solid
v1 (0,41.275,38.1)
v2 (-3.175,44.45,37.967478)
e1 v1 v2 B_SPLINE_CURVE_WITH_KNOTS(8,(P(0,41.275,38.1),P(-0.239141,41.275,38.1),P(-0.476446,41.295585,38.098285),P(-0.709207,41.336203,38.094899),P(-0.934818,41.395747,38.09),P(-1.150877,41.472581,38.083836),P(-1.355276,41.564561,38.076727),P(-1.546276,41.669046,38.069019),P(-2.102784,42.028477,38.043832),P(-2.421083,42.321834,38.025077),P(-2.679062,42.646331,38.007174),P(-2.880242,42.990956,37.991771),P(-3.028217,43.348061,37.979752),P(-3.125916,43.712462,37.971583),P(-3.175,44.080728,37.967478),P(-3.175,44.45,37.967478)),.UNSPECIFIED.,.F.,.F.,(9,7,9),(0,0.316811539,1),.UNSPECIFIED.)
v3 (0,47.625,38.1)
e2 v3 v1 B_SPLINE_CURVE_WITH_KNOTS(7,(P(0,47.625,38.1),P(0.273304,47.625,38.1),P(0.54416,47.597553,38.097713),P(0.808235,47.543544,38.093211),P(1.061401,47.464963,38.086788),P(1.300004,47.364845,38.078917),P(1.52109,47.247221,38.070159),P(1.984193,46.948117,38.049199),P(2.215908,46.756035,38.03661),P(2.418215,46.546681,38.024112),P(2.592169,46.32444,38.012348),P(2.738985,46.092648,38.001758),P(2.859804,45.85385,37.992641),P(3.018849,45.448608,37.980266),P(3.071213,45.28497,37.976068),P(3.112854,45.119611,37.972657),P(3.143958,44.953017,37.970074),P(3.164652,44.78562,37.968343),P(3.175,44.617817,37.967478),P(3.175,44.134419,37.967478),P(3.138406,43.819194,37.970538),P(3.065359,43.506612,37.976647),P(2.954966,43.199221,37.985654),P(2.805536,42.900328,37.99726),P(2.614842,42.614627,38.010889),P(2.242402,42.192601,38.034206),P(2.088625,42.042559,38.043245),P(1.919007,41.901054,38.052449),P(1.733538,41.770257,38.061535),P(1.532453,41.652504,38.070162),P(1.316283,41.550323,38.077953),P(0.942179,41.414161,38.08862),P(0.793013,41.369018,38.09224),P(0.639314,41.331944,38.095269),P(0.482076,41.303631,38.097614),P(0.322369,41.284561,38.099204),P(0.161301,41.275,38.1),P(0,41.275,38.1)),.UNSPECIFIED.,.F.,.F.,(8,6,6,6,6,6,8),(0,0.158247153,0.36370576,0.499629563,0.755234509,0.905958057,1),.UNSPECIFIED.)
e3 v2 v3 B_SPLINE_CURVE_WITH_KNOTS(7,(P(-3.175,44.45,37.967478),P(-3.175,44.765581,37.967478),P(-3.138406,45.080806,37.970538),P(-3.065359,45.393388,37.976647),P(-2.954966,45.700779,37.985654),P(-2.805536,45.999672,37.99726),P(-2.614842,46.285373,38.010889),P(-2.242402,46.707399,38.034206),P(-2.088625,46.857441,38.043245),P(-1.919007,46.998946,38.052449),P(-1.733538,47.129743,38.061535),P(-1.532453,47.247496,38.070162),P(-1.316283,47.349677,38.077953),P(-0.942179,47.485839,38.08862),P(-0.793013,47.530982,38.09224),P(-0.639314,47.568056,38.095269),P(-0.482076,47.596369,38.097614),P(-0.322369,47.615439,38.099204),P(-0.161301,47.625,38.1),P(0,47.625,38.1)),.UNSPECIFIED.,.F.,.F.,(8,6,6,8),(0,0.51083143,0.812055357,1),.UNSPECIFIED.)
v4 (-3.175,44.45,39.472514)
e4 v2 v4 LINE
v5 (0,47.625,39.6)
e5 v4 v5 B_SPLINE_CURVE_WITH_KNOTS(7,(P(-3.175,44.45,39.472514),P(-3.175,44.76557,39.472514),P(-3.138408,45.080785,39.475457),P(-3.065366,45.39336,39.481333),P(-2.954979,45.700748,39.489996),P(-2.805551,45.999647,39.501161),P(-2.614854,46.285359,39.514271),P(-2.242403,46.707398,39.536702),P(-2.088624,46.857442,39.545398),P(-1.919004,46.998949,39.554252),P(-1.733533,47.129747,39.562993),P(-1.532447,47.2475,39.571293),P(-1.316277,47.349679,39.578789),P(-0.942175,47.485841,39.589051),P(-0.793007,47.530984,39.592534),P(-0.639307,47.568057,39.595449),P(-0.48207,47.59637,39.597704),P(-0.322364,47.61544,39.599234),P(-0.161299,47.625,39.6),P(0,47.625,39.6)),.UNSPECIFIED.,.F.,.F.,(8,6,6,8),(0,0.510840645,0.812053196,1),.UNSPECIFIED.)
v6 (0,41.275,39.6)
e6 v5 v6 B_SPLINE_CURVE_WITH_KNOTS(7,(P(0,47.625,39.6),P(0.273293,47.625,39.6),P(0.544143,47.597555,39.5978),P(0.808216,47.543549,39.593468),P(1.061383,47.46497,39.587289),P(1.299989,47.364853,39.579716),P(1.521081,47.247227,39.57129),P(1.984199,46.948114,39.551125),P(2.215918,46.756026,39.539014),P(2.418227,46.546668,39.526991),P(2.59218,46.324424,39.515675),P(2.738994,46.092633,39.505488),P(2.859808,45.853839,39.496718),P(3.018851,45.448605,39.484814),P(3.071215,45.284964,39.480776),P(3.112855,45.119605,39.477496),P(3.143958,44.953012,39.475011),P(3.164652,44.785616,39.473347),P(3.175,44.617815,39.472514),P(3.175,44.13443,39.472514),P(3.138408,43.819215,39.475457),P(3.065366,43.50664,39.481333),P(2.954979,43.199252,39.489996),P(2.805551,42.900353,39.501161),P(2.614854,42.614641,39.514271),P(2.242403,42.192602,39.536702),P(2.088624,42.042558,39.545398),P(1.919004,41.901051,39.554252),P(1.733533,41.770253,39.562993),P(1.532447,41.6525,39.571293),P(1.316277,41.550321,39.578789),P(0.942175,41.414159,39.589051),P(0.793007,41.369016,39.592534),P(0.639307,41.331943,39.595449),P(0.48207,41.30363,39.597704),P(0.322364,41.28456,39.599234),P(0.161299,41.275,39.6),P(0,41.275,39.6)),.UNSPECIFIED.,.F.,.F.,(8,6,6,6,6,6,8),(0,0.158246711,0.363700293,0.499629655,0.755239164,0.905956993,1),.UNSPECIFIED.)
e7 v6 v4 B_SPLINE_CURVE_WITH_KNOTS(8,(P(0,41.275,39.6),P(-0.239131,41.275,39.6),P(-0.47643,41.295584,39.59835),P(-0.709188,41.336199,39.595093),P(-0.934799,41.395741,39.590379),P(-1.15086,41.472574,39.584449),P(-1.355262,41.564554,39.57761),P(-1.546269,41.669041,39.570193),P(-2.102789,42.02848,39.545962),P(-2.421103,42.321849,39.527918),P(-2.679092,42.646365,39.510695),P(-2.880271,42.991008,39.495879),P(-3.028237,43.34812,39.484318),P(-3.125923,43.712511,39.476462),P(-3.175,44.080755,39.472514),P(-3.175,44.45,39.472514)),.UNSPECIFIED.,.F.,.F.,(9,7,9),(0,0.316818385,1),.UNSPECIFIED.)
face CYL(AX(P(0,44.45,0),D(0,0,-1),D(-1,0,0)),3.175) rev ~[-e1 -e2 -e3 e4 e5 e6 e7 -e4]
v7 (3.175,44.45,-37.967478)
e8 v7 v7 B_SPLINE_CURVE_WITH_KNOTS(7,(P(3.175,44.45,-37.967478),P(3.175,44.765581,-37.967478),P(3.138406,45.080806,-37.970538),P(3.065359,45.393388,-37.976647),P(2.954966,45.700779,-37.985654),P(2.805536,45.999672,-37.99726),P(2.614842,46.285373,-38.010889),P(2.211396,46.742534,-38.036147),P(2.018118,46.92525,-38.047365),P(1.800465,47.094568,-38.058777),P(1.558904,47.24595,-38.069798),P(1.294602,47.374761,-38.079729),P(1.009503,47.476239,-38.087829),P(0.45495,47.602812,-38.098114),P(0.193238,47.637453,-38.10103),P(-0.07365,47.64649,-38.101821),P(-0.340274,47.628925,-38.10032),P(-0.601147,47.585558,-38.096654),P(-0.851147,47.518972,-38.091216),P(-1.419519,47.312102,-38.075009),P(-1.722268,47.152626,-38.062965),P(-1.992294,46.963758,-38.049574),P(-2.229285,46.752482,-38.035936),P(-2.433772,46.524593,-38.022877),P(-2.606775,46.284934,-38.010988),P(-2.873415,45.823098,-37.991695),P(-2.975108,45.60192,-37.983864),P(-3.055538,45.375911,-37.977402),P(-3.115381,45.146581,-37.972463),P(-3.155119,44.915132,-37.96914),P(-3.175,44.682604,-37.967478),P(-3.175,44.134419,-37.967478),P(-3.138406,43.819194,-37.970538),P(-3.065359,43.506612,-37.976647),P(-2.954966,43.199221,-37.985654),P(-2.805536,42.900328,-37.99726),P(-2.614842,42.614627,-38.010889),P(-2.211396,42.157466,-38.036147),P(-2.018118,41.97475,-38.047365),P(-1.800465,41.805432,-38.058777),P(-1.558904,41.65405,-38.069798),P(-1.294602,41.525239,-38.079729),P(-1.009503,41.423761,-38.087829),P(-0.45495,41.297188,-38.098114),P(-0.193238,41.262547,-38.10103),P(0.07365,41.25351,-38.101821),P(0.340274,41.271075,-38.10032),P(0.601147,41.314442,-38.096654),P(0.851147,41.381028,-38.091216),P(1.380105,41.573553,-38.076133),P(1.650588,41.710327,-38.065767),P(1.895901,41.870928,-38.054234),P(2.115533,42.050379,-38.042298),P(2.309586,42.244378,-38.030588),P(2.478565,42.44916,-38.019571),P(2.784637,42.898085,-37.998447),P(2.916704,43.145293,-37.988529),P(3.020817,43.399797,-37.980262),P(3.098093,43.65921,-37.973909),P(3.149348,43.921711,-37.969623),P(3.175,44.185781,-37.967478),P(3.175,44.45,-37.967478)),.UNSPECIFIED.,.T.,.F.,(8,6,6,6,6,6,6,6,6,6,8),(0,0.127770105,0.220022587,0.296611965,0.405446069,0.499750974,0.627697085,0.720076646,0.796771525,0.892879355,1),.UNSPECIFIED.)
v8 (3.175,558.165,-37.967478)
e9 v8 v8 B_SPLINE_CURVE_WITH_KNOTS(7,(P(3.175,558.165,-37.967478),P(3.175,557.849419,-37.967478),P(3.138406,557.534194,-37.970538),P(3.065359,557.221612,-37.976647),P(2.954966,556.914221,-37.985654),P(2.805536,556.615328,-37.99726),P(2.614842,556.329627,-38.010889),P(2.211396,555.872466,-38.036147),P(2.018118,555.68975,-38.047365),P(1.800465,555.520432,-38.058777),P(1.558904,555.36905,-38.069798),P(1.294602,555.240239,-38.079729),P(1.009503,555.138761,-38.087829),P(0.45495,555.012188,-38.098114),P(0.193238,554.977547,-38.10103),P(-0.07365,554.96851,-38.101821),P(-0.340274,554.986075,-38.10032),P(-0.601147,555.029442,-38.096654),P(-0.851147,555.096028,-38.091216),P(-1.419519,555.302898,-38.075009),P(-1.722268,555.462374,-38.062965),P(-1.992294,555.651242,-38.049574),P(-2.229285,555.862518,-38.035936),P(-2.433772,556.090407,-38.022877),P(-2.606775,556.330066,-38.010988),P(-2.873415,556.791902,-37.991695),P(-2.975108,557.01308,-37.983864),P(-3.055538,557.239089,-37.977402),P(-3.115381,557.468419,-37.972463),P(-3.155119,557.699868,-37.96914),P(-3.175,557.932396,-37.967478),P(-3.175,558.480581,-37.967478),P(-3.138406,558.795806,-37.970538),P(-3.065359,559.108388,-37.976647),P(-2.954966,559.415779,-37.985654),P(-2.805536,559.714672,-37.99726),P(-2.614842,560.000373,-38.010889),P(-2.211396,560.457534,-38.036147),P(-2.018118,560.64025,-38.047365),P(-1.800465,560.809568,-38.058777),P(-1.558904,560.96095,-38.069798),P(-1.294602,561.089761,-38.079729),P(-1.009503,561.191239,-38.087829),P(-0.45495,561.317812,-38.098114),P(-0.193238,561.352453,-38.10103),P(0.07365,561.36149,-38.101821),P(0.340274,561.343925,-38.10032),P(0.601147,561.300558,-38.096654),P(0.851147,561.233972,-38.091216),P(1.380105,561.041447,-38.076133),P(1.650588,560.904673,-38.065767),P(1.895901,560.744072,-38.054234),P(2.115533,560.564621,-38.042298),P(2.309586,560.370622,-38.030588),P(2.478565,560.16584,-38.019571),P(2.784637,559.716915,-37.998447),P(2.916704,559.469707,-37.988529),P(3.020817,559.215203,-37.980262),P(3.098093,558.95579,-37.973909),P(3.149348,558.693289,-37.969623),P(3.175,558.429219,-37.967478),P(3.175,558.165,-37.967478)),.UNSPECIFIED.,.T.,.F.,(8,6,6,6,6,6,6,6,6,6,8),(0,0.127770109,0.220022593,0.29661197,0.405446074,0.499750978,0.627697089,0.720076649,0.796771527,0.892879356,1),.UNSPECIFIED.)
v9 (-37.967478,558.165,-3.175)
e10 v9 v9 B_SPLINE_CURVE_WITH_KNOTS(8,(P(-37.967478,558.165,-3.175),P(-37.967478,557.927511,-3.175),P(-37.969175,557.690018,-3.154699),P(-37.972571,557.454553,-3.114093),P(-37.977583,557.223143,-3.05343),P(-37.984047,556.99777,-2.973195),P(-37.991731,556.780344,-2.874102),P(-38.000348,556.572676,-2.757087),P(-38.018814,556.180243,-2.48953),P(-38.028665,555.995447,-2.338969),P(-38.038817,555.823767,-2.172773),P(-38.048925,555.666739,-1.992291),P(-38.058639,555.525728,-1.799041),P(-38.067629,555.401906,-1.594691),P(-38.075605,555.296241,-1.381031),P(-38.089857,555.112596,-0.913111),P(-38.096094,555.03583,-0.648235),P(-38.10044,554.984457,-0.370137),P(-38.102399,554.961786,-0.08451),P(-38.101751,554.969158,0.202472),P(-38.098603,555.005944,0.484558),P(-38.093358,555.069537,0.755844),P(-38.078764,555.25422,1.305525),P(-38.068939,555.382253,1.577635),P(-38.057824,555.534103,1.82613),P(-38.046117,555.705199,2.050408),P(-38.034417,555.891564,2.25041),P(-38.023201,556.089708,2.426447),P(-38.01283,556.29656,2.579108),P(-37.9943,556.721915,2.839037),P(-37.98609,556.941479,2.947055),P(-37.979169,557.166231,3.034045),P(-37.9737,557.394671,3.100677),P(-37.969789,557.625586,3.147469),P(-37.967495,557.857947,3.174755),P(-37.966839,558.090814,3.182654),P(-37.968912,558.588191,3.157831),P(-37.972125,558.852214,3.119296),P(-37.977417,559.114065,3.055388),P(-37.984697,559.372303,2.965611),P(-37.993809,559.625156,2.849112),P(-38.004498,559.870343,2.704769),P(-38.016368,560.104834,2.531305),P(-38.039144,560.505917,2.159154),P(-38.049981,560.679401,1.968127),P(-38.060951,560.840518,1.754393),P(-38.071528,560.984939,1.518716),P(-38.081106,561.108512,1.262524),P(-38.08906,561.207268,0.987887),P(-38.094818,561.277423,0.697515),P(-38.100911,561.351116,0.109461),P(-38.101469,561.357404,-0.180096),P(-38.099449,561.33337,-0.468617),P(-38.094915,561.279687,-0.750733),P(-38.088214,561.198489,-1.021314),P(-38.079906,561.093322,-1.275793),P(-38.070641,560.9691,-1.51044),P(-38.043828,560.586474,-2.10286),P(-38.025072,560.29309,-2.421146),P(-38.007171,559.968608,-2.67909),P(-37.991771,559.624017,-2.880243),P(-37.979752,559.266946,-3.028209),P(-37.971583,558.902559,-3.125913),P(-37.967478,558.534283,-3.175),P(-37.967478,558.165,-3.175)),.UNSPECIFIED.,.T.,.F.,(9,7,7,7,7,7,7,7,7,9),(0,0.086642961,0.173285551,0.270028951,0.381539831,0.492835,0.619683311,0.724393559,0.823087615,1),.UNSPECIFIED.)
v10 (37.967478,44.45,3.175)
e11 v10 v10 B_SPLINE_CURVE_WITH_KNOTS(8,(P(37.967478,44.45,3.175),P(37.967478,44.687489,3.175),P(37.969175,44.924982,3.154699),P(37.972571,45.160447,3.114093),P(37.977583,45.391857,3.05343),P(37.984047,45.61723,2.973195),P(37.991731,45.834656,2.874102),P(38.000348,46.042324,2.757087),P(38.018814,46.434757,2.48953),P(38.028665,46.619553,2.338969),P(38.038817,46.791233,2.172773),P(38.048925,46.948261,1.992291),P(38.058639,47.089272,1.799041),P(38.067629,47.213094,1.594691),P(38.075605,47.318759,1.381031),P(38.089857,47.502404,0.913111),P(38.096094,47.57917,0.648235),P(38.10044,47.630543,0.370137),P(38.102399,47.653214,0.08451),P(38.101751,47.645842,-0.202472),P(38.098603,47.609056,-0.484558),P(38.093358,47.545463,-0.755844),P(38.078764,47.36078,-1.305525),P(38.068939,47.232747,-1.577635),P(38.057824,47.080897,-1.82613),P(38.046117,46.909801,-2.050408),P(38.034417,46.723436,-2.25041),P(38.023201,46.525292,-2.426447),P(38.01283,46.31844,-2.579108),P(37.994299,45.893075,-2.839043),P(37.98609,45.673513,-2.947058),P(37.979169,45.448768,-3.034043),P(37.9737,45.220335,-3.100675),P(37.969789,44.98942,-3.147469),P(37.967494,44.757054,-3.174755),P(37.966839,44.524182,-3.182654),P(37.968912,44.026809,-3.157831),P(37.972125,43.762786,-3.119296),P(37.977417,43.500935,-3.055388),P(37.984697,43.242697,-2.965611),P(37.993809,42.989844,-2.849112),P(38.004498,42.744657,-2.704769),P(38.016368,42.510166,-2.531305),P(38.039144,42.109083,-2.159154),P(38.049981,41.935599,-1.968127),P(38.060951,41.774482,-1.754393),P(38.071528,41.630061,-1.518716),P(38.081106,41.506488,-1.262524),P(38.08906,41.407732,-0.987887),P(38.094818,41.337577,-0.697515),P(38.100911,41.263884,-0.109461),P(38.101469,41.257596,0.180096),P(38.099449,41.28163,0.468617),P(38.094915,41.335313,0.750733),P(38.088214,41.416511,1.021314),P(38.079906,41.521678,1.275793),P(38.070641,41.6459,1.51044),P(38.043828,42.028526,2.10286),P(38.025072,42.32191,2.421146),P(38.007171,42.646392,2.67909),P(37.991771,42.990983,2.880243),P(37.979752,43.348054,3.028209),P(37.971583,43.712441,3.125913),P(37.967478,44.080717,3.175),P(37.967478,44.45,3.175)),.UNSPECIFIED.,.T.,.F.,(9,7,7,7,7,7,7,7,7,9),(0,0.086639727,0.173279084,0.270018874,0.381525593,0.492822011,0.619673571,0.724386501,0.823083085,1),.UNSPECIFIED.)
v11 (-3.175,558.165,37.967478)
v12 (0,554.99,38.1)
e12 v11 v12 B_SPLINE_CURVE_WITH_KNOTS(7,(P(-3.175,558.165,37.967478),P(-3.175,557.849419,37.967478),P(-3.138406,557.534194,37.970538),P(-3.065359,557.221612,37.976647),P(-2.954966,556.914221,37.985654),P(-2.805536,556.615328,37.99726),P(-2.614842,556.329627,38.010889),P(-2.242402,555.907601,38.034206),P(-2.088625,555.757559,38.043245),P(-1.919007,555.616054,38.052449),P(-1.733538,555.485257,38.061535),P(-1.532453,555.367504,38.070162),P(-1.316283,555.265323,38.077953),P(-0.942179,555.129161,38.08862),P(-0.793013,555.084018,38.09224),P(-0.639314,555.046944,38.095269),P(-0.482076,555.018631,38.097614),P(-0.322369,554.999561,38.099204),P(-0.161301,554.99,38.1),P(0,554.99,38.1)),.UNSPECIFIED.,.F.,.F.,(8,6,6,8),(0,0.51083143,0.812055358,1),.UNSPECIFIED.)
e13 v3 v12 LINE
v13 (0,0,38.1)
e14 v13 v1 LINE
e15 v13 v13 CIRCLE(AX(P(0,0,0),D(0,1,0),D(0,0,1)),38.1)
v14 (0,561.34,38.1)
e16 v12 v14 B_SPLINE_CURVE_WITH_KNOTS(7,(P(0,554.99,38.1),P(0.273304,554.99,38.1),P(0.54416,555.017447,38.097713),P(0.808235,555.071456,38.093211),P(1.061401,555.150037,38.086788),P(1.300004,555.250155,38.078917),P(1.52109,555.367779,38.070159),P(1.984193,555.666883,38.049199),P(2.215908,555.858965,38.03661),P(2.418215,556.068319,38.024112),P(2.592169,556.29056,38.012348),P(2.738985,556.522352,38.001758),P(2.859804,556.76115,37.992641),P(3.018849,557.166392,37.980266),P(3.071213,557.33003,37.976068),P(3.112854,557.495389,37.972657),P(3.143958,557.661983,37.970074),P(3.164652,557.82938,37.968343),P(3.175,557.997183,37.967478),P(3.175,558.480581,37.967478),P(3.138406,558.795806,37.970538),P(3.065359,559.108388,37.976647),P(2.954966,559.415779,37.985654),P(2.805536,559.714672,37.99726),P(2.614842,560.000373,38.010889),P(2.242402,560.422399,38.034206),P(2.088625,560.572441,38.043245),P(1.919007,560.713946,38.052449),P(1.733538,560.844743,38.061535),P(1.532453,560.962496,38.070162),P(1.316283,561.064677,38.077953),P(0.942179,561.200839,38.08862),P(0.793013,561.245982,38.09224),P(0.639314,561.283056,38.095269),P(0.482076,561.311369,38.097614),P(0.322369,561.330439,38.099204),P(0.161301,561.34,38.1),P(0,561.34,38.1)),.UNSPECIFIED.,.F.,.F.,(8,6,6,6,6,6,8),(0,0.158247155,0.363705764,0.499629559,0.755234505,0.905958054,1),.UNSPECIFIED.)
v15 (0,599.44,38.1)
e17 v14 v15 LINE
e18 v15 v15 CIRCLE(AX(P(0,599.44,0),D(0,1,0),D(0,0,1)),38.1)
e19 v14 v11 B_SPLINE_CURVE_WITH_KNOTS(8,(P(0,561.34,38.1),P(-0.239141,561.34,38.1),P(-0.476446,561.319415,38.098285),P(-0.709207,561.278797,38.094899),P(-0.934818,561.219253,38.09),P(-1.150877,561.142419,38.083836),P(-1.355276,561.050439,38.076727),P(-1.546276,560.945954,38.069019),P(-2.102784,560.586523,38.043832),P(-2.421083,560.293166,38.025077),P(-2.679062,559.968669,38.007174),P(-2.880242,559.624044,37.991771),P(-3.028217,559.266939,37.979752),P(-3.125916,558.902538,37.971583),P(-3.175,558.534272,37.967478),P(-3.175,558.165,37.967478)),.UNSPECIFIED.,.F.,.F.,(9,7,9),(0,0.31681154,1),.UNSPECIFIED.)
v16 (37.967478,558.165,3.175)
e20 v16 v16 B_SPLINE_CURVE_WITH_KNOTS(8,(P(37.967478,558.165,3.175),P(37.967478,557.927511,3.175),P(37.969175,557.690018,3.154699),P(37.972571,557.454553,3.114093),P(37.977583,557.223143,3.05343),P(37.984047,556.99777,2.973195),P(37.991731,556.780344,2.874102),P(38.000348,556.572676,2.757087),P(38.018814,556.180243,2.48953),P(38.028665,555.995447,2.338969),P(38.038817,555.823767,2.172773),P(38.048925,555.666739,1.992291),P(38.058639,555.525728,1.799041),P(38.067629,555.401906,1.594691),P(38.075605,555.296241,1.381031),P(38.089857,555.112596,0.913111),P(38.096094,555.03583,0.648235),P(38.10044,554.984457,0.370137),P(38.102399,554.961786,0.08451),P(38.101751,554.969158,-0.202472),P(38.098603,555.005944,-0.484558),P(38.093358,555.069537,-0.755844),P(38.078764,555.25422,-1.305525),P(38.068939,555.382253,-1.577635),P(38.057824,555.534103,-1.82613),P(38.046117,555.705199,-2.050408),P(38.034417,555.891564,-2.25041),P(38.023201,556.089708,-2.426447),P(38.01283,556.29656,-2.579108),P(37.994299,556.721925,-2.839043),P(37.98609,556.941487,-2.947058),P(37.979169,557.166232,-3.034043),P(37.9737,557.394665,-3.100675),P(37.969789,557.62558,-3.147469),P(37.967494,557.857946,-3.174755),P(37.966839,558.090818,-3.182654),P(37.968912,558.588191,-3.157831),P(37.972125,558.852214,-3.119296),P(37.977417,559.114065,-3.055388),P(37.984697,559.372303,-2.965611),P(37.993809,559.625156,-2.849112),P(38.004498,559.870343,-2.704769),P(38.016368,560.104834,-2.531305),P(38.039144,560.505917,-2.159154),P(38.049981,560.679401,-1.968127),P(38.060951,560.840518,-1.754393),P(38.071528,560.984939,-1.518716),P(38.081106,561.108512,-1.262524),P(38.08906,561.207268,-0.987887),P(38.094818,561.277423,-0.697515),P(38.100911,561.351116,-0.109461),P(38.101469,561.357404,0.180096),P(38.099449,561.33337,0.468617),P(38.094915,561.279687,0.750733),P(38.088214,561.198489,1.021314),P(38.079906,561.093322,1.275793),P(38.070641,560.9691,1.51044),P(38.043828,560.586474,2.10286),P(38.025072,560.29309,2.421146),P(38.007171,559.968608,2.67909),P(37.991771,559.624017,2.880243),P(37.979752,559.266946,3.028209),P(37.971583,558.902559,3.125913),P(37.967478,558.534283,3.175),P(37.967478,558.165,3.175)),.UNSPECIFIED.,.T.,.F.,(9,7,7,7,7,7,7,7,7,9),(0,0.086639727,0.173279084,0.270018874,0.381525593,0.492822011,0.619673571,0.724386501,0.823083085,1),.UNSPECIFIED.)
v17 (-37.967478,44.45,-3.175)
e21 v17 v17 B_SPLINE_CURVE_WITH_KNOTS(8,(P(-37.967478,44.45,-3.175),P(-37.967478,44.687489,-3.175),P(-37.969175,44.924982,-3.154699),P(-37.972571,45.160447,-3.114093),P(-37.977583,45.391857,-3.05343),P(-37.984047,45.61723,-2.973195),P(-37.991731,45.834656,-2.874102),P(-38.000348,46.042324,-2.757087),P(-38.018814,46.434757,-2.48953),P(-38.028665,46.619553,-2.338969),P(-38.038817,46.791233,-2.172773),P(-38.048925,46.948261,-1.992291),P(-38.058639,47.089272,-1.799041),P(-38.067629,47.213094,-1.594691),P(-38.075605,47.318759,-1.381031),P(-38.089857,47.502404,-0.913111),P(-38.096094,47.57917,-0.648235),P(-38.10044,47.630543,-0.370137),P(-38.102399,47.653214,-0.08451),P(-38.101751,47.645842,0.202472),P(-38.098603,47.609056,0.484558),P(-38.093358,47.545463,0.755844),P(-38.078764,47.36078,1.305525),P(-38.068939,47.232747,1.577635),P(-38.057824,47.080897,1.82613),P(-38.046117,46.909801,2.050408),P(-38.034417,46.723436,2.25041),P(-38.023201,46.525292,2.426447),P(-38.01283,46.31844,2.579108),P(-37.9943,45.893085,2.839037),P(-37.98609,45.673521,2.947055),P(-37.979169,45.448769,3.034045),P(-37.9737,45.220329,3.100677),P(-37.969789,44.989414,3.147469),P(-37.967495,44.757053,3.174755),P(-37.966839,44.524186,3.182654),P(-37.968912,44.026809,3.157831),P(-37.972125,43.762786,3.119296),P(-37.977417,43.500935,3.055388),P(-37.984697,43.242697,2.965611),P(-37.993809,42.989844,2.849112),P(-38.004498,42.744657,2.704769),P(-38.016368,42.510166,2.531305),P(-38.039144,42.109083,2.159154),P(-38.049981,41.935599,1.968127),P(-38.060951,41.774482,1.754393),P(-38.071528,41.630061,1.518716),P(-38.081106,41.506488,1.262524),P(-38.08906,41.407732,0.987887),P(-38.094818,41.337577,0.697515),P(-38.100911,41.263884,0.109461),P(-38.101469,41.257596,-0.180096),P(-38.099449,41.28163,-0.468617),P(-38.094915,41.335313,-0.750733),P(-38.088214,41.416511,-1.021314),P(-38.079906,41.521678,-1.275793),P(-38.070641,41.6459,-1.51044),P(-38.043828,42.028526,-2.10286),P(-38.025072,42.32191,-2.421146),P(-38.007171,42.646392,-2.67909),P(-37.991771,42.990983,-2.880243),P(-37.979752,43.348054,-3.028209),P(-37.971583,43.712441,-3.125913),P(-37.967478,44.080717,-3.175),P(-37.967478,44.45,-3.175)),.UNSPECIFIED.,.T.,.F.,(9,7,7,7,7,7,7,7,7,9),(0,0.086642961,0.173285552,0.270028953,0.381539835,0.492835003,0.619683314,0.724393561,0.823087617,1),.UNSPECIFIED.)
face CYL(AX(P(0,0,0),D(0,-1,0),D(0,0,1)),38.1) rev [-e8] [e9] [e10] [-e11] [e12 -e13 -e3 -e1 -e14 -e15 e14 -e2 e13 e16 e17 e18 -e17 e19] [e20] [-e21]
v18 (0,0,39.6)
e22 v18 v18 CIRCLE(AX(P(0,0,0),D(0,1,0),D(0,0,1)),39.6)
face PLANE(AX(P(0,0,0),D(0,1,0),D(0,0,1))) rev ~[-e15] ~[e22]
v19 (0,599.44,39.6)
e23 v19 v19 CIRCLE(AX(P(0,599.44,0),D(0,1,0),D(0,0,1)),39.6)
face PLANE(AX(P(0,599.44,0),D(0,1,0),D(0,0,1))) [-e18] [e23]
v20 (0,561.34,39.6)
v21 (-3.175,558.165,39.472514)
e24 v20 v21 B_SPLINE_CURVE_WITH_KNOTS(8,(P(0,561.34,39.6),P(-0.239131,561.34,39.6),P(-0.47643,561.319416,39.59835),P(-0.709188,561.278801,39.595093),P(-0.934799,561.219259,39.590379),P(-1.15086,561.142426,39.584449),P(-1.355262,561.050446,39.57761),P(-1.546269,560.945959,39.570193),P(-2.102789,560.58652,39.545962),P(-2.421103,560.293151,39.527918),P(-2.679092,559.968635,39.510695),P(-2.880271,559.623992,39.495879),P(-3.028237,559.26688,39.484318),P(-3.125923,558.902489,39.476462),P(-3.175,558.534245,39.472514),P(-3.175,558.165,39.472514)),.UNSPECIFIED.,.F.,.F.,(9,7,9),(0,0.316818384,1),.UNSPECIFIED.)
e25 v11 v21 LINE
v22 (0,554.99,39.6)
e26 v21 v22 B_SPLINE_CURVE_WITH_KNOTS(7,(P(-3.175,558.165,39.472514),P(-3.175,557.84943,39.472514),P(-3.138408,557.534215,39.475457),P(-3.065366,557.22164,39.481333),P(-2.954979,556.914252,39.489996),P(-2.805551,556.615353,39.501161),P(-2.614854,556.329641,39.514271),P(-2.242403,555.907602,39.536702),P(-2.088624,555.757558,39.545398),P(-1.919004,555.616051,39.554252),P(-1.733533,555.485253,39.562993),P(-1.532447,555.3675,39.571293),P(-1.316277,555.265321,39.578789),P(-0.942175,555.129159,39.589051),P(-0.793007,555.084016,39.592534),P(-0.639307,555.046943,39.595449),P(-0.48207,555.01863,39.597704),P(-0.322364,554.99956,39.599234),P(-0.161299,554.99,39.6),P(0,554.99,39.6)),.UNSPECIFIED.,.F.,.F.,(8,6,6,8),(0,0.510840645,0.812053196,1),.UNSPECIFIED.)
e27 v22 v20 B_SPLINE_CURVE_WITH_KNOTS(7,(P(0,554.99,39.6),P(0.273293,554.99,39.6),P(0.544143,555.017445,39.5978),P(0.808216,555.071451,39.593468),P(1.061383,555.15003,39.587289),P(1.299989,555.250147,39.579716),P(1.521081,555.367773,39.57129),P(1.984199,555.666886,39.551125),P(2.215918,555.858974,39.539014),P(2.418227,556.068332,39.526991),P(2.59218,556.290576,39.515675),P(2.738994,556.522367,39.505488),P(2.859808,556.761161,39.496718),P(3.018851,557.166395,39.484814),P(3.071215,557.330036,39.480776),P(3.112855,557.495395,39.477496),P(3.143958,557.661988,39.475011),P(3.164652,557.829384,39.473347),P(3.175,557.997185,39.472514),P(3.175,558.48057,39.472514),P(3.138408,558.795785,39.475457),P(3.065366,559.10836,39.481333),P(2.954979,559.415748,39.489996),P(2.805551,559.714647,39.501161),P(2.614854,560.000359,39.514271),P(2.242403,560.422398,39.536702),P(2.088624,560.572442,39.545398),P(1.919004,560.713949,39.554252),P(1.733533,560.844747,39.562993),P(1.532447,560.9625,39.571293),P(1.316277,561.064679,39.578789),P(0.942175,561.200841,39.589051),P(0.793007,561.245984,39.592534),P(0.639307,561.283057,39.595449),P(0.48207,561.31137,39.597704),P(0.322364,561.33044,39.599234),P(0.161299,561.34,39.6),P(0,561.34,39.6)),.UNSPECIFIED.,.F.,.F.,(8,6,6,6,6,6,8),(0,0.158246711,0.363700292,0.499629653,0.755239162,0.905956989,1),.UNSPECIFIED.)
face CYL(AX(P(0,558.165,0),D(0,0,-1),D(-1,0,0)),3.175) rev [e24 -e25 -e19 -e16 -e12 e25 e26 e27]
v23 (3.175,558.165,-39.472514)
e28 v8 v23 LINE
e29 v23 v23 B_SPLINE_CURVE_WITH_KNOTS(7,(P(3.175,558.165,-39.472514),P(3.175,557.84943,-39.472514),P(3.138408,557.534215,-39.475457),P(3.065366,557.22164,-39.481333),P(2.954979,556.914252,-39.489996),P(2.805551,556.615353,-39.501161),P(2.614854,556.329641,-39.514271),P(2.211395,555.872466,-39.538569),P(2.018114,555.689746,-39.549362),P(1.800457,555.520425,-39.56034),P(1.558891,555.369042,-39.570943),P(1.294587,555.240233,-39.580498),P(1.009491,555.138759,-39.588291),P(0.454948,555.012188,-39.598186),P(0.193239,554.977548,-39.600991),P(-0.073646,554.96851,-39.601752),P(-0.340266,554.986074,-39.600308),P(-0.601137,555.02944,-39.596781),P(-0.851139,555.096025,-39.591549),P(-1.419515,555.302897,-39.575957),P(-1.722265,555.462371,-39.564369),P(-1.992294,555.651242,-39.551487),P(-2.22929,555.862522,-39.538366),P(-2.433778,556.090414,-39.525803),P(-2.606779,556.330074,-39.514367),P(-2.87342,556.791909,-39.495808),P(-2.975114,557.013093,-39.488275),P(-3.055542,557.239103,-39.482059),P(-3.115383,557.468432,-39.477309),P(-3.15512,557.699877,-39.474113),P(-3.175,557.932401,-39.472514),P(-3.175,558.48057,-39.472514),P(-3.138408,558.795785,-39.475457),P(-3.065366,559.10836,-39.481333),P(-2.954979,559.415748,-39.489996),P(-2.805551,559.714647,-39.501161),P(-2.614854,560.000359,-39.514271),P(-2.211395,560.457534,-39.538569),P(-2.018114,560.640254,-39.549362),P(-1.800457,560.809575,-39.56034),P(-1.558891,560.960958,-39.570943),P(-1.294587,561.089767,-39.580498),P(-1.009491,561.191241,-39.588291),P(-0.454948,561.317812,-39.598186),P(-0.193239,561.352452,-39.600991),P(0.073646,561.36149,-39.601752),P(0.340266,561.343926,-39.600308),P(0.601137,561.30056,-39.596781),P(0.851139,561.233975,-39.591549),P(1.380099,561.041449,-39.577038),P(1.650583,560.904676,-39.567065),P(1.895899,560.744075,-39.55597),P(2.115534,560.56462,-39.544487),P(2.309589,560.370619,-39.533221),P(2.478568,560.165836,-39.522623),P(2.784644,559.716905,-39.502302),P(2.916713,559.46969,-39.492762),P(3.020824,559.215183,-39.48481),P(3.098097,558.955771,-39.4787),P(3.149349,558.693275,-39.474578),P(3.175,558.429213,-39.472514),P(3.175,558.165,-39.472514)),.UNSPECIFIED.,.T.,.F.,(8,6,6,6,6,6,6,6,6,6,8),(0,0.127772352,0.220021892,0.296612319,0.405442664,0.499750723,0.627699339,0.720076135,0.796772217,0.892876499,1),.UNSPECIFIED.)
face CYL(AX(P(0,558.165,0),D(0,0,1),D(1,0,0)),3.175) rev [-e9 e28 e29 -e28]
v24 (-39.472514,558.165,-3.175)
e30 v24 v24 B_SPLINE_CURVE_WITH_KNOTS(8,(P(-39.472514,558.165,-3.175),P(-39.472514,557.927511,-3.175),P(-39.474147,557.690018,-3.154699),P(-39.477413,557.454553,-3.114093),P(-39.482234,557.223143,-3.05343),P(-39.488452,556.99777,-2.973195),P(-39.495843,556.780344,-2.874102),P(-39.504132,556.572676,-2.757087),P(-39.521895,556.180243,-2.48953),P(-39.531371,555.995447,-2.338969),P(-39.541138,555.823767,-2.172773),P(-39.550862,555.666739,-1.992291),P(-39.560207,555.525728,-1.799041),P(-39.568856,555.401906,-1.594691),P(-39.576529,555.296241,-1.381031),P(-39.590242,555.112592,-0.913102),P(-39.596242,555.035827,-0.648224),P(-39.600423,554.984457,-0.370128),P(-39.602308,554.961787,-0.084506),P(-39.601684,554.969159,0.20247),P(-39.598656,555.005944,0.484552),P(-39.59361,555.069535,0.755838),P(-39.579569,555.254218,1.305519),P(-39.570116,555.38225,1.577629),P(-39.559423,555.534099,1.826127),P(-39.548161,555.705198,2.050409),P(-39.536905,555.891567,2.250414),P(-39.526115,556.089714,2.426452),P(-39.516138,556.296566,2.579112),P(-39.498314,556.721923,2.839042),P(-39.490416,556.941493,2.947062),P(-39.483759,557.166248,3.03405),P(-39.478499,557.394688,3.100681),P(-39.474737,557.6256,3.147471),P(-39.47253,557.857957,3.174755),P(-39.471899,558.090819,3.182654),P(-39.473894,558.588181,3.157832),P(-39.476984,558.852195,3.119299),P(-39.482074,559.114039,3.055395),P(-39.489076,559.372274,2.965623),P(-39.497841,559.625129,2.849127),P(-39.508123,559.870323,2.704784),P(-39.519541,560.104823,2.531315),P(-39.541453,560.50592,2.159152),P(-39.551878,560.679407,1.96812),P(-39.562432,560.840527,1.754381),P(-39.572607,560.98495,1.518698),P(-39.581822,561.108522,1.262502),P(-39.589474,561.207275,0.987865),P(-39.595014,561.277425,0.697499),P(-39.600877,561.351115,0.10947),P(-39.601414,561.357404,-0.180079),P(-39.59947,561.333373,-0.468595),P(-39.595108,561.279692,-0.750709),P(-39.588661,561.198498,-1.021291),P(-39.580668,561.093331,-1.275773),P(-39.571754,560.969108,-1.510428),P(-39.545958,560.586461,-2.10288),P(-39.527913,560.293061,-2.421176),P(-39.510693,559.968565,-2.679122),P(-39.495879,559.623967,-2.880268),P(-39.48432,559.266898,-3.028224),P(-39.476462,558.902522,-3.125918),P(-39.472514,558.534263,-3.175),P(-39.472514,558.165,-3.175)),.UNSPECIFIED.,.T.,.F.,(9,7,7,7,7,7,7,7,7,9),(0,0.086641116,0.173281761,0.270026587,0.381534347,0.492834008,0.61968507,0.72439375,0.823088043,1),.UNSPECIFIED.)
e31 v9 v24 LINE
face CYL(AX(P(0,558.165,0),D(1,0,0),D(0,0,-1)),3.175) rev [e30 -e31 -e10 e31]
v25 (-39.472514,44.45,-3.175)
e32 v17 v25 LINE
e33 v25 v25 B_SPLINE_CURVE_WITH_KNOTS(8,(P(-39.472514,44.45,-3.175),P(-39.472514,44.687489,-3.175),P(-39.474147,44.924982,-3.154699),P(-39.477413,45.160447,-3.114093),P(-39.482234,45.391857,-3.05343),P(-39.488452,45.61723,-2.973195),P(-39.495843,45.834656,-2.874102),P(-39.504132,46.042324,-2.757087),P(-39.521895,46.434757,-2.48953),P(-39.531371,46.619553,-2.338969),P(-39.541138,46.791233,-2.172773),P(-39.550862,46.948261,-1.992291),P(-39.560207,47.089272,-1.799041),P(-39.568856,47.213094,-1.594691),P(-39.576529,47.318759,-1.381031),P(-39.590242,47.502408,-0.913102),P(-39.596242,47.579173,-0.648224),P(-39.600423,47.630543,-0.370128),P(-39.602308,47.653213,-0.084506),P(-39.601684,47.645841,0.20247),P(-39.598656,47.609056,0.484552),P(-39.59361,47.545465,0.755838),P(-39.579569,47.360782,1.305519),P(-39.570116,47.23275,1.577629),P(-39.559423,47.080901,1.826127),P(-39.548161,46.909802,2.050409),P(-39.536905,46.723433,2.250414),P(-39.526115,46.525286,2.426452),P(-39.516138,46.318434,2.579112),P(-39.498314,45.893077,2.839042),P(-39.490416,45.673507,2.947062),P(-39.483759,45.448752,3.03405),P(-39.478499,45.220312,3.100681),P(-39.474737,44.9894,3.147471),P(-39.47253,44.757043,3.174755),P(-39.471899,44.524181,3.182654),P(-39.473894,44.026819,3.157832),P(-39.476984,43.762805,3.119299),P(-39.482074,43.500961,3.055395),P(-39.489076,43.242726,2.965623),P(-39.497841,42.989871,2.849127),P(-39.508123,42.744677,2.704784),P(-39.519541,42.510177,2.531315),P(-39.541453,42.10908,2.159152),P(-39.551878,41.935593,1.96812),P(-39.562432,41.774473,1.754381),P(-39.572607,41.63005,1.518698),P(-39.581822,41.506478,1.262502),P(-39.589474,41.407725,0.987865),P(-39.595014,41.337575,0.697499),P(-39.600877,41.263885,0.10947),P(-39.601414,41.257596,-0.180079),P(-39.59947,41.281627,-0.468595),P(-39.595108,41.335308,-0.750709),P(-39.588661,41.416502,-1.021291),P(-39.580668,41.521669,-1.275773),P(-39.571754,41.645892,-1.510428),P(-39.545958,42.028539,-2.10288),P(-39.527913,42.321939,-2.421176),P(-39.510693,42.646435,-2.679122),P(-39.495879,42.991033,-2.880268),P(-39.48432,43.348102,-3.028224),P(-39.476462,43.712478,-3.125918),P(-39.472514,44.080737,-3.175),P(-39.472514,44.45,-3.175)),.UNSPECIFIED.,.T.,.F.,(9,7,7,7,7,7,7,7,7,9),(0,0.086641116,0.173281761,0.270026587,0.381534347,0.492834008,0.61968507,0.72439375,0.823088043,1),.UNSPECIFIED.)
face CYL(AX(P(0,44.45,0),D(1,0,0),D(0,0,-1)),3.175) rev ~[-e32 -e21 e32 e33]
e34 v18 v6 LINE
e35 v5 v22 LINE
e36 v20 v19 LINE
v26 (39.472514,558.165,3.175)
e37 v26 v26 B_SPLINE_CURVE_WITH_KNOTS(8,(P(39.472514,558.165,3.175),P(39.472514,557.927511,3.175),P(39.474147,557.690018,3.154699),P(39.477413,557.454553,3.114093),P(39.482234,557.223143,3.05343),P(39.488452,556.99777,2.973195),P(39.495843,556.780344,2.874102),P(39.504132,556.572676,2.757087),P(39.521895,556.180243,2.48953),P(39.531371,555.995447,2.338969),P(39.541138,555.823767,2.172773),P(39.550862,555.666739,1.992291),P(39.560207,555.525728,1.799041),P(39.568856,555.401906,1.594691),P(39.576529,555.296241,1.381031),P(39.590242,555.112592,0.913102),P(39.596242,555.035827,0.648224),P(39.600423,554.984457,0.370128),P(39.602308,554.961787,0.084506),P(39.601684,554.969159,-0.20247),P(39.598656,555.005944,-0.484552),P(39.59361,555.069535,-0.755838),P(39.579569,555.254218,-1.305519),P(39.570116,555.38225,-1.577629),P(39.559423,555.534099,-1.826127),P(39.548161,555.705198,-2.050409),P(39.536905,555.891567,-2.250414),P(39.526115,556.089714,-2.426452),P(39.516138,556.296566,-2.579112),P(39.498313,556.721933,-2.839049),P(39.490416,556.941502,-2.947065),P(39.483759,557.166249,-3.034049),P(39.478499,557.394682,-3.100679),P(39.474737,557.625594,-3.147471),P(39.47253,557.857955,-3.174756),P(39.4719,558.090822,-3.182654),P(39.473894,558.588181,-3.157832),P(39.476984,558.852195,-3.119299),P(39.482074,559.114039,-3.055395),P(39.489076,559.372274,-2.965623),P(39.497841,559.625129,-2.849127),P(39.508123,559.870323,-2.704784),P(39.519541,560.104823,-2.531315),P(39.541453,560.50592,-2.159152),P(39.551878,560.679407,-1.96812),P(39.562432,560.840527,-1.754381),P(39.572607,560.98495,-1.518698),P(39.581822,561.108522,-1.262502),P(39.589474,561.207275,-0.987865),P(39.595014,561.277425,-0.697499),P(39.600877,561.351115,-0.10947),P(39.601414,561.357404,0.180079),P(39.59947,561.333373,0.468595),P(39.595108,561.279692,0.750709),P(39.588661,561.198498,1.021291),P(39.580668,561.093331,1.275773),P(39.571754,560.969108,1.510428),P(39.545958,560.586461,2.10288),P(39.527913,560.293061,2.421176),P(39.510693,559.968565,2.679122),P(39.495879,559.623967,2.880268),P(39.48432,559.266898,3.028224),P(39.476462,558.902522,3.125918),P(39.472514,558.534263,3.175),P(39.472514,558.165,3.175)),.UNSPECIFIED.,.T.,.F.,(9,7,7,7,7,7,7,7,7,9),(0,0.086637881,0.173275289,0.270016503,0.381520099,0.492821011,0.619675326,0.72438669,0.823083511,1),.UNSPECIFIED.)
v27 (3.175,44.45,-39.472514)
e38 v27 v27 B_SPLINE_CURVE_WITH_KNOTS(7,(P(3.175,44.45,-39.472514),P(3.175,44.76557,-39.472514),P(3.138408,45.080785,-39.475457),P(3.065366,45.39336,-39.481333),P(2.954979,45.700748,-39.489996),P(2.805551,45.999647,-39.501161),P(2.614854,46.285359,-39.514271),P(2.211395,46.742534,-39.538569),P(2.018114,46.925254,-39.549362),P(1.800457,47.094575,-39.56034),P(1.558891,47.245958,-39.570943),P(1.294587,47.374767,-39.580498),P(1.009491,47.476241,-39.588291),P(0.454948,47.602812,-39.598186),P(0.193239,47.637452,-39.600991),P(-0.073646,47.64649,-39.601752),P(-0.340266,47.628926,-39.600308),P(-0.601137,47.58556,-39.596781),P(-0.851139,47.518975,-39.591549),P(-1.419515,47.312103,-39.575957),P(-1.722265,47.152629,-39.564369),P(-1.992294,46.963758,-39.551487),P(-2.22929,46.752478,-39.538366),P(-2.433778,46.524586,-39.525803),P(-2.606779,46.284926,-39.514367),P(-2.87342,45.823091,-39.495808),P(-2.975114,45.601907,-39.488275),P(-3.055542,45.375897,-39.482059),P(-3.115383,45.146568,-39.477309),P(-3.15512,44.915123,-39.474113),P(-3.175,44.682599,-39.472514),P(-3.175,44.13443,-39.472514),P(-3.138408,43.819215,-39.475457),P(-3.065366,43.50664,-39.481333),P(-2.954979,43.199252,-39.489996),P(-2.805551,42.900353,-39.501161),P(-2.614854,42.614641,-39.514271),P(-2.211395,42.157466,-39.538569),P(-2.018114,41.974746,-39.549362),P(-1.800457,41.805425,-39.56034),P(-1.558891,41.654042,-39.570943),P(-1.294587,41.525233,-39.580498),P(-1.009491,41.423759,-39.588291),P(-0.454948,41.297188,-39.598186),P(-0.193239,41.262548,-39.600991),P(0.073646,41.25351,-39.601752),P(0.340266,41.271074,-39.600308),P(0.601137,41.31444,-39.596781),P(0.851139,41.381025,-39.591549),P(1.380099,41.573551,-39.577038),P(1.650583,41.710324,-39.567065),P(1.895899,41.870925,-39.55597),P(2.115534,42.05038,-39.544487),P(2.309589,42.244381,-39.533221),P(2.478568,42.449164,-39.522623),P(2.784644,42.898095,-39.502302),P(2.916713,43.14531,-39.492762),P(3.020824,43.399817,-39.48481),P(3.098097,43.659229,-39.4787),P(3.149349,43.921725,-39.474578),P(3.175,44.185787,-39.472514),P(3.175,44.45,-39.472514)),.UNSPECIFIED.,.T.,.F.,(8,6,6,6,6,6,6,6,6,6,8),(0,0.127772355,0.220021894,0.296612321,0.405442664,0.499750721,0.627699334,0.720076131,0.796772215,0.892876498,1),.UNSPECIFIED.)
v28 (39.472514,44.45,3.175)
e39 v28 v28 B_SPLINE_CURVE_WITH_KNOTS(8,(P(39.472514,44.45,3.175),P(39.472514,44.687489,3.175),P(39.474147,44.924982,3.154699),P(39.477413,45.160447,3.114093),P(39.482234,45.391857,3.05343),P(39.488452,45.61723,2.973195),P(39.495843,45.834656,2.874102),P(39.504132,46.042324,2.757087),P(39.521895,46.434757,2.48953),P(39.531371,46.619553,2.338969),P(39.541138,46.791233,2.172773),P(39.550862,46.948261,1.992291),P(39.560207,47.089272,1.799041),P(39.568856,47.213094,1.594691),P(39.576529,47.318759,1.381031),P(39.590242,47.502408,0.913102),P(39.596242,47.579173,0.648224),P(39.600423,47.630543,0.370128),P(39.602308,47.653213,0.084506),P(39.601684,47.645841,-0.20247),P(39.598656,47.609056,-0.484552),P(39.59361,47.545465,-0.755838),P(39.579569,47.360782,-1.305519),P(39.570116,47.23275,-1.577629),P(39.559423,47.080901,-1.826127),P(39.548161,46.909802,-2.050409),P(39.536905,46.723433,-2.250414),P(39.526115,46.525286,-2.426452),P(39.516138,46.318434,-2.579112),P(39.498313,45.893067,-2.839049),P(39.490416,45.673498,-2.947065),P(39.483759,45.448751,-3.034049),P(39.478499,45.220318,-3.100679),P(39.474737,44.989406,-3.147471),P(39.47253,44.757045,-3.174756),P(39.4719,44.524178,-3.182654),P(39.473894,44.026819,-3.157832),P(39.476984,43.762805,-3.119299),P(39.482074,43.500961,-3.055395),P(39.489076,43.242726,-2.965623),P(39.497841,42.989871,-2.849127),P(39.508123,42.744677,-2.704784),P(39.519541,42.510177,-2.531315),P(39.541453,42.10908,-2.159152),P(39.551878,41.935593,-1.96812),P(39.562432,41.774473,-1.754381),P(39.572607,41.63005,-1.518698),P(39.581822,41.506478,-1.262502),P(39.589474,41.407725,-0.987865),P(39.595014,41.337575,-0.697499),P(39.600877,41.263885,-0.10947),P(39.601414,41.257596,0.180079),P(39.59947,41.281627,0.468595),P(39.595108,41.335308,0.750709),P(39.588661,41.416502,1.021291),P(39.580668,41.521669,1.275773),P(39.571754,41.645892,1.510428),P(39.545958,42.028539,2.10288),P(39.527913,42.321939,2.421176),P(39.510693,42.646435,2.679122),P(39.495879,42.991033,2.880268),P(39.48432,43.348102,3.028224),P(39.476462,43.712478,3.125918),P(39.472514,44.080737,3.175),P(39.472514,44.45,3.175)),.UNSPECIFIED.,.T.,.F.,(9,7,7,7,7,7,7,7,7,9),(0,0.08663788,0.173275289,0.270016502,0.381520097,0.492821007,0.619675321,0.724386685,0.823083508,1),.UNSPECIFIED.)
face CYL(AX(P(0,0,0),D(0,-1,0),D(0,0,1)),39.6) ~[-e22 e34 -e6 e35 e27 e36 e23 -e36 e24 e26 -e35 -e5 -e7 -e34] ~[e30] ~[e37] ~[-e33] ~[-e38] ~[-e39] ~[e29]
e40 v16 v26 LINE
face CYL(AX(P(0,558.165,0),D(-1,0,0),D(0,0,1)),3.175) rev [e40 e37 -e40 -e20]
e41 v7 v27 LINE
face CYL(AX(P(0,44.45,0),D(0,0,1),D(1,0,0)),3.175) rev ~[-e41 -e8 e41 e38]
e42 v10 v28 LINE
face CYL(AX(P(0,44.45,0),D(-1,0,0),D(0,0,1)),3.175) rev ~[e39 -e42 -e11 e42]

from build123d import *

# Parameters (mm, degrees)
SKETCH4_R           = 39.6
SKETCH4_R_2         = 38.1
BOSS_EXTRUDE2_DEPTH = 599.44
SKETCH5_R           = 3.175
CUT_EXTRUDE1_DEPTH  = 603.050358027
CIRPATTERN1_COUNT   = 4
SKETCH6_R           = 3.175
CUT_EXTRUDE2_DEPTH  = 603.050358139
CIRPATTERN2_COUNT   = 4


with BuildPart() as part:
    # Sketch4 → Boss-Extrude2 (new body)
    with BuildSketch(Plane(origin=(0, 0, 0), x_dir=(1, 0, 0), z_dir=(0, 1, 0))):
        with Locations(Location((0, 0, 0), (0, 0, 270))):
            Circle(SKETCH4_R)
        with Locations(Location((0, 0, 0), (0, 0, 270))):
            Circle(SKETCH4_R_2, mode=Mode.SUBTRACT)
    extrude(amount=BOSS_EXTRUDE2_DEPTH)

    # Sketch5 → Cut-Extrude1 (cut, through all)
    with BuildSketch(Plane(origin=(0, 0, 0), x_dir=(0, 0, -1), z_dir=(1, 0, 0))):
        with Locations((0, 44.45)):
            Circle(SKETCH5_R)
    cut_extrude1 = extrude(amount=-CUT_EXTRUDE1_DEPTH, mode=Mode.SUBTRACT)

    # CirPattern1: Cut-Extrude1 ×4 about axis
    cirpattern1_axis = Axis((0, 599.44, 0), (0, -1, 0))
    for i in range(1, CIRPATTERN1_COUNT):
        add(cut_extrude1.rotate(cirpattern1_axis, i * 360 / CIRPATTERN1_COUNT), mode=Mode.SUBTRACT)

    # Sketch6 → Cut-Extrude2 (cut, through all)
    with BuildSketch(Plane(origin=(0, 0, 0), x_dir=(0, 0, -1), z_dir=(1, 0, 0))):
        with Locations(Location((0, 558.165, 0), (0, 0, 180))):
            Circle(SKETCH6_R)
    cut_extrude2 = extrude(amount=CUT_EXTRUDE2_DEPTH, mode=Mode.SUBTRACT)

    # CirPattern2: Cut-Extrude2 ×4 about axis
    cirpattern2_axis = Axis((0, 599.44, 0), (0, -1, 0))
    for i in range(1, CIRPATTERN2_COUNT):
        add(cut_extrude2.rotate(cirpattern2_axis, i * 360 / CIRPATTERN2_COUNT), mode=Mode.SUBTRACT)


solid = part.part
